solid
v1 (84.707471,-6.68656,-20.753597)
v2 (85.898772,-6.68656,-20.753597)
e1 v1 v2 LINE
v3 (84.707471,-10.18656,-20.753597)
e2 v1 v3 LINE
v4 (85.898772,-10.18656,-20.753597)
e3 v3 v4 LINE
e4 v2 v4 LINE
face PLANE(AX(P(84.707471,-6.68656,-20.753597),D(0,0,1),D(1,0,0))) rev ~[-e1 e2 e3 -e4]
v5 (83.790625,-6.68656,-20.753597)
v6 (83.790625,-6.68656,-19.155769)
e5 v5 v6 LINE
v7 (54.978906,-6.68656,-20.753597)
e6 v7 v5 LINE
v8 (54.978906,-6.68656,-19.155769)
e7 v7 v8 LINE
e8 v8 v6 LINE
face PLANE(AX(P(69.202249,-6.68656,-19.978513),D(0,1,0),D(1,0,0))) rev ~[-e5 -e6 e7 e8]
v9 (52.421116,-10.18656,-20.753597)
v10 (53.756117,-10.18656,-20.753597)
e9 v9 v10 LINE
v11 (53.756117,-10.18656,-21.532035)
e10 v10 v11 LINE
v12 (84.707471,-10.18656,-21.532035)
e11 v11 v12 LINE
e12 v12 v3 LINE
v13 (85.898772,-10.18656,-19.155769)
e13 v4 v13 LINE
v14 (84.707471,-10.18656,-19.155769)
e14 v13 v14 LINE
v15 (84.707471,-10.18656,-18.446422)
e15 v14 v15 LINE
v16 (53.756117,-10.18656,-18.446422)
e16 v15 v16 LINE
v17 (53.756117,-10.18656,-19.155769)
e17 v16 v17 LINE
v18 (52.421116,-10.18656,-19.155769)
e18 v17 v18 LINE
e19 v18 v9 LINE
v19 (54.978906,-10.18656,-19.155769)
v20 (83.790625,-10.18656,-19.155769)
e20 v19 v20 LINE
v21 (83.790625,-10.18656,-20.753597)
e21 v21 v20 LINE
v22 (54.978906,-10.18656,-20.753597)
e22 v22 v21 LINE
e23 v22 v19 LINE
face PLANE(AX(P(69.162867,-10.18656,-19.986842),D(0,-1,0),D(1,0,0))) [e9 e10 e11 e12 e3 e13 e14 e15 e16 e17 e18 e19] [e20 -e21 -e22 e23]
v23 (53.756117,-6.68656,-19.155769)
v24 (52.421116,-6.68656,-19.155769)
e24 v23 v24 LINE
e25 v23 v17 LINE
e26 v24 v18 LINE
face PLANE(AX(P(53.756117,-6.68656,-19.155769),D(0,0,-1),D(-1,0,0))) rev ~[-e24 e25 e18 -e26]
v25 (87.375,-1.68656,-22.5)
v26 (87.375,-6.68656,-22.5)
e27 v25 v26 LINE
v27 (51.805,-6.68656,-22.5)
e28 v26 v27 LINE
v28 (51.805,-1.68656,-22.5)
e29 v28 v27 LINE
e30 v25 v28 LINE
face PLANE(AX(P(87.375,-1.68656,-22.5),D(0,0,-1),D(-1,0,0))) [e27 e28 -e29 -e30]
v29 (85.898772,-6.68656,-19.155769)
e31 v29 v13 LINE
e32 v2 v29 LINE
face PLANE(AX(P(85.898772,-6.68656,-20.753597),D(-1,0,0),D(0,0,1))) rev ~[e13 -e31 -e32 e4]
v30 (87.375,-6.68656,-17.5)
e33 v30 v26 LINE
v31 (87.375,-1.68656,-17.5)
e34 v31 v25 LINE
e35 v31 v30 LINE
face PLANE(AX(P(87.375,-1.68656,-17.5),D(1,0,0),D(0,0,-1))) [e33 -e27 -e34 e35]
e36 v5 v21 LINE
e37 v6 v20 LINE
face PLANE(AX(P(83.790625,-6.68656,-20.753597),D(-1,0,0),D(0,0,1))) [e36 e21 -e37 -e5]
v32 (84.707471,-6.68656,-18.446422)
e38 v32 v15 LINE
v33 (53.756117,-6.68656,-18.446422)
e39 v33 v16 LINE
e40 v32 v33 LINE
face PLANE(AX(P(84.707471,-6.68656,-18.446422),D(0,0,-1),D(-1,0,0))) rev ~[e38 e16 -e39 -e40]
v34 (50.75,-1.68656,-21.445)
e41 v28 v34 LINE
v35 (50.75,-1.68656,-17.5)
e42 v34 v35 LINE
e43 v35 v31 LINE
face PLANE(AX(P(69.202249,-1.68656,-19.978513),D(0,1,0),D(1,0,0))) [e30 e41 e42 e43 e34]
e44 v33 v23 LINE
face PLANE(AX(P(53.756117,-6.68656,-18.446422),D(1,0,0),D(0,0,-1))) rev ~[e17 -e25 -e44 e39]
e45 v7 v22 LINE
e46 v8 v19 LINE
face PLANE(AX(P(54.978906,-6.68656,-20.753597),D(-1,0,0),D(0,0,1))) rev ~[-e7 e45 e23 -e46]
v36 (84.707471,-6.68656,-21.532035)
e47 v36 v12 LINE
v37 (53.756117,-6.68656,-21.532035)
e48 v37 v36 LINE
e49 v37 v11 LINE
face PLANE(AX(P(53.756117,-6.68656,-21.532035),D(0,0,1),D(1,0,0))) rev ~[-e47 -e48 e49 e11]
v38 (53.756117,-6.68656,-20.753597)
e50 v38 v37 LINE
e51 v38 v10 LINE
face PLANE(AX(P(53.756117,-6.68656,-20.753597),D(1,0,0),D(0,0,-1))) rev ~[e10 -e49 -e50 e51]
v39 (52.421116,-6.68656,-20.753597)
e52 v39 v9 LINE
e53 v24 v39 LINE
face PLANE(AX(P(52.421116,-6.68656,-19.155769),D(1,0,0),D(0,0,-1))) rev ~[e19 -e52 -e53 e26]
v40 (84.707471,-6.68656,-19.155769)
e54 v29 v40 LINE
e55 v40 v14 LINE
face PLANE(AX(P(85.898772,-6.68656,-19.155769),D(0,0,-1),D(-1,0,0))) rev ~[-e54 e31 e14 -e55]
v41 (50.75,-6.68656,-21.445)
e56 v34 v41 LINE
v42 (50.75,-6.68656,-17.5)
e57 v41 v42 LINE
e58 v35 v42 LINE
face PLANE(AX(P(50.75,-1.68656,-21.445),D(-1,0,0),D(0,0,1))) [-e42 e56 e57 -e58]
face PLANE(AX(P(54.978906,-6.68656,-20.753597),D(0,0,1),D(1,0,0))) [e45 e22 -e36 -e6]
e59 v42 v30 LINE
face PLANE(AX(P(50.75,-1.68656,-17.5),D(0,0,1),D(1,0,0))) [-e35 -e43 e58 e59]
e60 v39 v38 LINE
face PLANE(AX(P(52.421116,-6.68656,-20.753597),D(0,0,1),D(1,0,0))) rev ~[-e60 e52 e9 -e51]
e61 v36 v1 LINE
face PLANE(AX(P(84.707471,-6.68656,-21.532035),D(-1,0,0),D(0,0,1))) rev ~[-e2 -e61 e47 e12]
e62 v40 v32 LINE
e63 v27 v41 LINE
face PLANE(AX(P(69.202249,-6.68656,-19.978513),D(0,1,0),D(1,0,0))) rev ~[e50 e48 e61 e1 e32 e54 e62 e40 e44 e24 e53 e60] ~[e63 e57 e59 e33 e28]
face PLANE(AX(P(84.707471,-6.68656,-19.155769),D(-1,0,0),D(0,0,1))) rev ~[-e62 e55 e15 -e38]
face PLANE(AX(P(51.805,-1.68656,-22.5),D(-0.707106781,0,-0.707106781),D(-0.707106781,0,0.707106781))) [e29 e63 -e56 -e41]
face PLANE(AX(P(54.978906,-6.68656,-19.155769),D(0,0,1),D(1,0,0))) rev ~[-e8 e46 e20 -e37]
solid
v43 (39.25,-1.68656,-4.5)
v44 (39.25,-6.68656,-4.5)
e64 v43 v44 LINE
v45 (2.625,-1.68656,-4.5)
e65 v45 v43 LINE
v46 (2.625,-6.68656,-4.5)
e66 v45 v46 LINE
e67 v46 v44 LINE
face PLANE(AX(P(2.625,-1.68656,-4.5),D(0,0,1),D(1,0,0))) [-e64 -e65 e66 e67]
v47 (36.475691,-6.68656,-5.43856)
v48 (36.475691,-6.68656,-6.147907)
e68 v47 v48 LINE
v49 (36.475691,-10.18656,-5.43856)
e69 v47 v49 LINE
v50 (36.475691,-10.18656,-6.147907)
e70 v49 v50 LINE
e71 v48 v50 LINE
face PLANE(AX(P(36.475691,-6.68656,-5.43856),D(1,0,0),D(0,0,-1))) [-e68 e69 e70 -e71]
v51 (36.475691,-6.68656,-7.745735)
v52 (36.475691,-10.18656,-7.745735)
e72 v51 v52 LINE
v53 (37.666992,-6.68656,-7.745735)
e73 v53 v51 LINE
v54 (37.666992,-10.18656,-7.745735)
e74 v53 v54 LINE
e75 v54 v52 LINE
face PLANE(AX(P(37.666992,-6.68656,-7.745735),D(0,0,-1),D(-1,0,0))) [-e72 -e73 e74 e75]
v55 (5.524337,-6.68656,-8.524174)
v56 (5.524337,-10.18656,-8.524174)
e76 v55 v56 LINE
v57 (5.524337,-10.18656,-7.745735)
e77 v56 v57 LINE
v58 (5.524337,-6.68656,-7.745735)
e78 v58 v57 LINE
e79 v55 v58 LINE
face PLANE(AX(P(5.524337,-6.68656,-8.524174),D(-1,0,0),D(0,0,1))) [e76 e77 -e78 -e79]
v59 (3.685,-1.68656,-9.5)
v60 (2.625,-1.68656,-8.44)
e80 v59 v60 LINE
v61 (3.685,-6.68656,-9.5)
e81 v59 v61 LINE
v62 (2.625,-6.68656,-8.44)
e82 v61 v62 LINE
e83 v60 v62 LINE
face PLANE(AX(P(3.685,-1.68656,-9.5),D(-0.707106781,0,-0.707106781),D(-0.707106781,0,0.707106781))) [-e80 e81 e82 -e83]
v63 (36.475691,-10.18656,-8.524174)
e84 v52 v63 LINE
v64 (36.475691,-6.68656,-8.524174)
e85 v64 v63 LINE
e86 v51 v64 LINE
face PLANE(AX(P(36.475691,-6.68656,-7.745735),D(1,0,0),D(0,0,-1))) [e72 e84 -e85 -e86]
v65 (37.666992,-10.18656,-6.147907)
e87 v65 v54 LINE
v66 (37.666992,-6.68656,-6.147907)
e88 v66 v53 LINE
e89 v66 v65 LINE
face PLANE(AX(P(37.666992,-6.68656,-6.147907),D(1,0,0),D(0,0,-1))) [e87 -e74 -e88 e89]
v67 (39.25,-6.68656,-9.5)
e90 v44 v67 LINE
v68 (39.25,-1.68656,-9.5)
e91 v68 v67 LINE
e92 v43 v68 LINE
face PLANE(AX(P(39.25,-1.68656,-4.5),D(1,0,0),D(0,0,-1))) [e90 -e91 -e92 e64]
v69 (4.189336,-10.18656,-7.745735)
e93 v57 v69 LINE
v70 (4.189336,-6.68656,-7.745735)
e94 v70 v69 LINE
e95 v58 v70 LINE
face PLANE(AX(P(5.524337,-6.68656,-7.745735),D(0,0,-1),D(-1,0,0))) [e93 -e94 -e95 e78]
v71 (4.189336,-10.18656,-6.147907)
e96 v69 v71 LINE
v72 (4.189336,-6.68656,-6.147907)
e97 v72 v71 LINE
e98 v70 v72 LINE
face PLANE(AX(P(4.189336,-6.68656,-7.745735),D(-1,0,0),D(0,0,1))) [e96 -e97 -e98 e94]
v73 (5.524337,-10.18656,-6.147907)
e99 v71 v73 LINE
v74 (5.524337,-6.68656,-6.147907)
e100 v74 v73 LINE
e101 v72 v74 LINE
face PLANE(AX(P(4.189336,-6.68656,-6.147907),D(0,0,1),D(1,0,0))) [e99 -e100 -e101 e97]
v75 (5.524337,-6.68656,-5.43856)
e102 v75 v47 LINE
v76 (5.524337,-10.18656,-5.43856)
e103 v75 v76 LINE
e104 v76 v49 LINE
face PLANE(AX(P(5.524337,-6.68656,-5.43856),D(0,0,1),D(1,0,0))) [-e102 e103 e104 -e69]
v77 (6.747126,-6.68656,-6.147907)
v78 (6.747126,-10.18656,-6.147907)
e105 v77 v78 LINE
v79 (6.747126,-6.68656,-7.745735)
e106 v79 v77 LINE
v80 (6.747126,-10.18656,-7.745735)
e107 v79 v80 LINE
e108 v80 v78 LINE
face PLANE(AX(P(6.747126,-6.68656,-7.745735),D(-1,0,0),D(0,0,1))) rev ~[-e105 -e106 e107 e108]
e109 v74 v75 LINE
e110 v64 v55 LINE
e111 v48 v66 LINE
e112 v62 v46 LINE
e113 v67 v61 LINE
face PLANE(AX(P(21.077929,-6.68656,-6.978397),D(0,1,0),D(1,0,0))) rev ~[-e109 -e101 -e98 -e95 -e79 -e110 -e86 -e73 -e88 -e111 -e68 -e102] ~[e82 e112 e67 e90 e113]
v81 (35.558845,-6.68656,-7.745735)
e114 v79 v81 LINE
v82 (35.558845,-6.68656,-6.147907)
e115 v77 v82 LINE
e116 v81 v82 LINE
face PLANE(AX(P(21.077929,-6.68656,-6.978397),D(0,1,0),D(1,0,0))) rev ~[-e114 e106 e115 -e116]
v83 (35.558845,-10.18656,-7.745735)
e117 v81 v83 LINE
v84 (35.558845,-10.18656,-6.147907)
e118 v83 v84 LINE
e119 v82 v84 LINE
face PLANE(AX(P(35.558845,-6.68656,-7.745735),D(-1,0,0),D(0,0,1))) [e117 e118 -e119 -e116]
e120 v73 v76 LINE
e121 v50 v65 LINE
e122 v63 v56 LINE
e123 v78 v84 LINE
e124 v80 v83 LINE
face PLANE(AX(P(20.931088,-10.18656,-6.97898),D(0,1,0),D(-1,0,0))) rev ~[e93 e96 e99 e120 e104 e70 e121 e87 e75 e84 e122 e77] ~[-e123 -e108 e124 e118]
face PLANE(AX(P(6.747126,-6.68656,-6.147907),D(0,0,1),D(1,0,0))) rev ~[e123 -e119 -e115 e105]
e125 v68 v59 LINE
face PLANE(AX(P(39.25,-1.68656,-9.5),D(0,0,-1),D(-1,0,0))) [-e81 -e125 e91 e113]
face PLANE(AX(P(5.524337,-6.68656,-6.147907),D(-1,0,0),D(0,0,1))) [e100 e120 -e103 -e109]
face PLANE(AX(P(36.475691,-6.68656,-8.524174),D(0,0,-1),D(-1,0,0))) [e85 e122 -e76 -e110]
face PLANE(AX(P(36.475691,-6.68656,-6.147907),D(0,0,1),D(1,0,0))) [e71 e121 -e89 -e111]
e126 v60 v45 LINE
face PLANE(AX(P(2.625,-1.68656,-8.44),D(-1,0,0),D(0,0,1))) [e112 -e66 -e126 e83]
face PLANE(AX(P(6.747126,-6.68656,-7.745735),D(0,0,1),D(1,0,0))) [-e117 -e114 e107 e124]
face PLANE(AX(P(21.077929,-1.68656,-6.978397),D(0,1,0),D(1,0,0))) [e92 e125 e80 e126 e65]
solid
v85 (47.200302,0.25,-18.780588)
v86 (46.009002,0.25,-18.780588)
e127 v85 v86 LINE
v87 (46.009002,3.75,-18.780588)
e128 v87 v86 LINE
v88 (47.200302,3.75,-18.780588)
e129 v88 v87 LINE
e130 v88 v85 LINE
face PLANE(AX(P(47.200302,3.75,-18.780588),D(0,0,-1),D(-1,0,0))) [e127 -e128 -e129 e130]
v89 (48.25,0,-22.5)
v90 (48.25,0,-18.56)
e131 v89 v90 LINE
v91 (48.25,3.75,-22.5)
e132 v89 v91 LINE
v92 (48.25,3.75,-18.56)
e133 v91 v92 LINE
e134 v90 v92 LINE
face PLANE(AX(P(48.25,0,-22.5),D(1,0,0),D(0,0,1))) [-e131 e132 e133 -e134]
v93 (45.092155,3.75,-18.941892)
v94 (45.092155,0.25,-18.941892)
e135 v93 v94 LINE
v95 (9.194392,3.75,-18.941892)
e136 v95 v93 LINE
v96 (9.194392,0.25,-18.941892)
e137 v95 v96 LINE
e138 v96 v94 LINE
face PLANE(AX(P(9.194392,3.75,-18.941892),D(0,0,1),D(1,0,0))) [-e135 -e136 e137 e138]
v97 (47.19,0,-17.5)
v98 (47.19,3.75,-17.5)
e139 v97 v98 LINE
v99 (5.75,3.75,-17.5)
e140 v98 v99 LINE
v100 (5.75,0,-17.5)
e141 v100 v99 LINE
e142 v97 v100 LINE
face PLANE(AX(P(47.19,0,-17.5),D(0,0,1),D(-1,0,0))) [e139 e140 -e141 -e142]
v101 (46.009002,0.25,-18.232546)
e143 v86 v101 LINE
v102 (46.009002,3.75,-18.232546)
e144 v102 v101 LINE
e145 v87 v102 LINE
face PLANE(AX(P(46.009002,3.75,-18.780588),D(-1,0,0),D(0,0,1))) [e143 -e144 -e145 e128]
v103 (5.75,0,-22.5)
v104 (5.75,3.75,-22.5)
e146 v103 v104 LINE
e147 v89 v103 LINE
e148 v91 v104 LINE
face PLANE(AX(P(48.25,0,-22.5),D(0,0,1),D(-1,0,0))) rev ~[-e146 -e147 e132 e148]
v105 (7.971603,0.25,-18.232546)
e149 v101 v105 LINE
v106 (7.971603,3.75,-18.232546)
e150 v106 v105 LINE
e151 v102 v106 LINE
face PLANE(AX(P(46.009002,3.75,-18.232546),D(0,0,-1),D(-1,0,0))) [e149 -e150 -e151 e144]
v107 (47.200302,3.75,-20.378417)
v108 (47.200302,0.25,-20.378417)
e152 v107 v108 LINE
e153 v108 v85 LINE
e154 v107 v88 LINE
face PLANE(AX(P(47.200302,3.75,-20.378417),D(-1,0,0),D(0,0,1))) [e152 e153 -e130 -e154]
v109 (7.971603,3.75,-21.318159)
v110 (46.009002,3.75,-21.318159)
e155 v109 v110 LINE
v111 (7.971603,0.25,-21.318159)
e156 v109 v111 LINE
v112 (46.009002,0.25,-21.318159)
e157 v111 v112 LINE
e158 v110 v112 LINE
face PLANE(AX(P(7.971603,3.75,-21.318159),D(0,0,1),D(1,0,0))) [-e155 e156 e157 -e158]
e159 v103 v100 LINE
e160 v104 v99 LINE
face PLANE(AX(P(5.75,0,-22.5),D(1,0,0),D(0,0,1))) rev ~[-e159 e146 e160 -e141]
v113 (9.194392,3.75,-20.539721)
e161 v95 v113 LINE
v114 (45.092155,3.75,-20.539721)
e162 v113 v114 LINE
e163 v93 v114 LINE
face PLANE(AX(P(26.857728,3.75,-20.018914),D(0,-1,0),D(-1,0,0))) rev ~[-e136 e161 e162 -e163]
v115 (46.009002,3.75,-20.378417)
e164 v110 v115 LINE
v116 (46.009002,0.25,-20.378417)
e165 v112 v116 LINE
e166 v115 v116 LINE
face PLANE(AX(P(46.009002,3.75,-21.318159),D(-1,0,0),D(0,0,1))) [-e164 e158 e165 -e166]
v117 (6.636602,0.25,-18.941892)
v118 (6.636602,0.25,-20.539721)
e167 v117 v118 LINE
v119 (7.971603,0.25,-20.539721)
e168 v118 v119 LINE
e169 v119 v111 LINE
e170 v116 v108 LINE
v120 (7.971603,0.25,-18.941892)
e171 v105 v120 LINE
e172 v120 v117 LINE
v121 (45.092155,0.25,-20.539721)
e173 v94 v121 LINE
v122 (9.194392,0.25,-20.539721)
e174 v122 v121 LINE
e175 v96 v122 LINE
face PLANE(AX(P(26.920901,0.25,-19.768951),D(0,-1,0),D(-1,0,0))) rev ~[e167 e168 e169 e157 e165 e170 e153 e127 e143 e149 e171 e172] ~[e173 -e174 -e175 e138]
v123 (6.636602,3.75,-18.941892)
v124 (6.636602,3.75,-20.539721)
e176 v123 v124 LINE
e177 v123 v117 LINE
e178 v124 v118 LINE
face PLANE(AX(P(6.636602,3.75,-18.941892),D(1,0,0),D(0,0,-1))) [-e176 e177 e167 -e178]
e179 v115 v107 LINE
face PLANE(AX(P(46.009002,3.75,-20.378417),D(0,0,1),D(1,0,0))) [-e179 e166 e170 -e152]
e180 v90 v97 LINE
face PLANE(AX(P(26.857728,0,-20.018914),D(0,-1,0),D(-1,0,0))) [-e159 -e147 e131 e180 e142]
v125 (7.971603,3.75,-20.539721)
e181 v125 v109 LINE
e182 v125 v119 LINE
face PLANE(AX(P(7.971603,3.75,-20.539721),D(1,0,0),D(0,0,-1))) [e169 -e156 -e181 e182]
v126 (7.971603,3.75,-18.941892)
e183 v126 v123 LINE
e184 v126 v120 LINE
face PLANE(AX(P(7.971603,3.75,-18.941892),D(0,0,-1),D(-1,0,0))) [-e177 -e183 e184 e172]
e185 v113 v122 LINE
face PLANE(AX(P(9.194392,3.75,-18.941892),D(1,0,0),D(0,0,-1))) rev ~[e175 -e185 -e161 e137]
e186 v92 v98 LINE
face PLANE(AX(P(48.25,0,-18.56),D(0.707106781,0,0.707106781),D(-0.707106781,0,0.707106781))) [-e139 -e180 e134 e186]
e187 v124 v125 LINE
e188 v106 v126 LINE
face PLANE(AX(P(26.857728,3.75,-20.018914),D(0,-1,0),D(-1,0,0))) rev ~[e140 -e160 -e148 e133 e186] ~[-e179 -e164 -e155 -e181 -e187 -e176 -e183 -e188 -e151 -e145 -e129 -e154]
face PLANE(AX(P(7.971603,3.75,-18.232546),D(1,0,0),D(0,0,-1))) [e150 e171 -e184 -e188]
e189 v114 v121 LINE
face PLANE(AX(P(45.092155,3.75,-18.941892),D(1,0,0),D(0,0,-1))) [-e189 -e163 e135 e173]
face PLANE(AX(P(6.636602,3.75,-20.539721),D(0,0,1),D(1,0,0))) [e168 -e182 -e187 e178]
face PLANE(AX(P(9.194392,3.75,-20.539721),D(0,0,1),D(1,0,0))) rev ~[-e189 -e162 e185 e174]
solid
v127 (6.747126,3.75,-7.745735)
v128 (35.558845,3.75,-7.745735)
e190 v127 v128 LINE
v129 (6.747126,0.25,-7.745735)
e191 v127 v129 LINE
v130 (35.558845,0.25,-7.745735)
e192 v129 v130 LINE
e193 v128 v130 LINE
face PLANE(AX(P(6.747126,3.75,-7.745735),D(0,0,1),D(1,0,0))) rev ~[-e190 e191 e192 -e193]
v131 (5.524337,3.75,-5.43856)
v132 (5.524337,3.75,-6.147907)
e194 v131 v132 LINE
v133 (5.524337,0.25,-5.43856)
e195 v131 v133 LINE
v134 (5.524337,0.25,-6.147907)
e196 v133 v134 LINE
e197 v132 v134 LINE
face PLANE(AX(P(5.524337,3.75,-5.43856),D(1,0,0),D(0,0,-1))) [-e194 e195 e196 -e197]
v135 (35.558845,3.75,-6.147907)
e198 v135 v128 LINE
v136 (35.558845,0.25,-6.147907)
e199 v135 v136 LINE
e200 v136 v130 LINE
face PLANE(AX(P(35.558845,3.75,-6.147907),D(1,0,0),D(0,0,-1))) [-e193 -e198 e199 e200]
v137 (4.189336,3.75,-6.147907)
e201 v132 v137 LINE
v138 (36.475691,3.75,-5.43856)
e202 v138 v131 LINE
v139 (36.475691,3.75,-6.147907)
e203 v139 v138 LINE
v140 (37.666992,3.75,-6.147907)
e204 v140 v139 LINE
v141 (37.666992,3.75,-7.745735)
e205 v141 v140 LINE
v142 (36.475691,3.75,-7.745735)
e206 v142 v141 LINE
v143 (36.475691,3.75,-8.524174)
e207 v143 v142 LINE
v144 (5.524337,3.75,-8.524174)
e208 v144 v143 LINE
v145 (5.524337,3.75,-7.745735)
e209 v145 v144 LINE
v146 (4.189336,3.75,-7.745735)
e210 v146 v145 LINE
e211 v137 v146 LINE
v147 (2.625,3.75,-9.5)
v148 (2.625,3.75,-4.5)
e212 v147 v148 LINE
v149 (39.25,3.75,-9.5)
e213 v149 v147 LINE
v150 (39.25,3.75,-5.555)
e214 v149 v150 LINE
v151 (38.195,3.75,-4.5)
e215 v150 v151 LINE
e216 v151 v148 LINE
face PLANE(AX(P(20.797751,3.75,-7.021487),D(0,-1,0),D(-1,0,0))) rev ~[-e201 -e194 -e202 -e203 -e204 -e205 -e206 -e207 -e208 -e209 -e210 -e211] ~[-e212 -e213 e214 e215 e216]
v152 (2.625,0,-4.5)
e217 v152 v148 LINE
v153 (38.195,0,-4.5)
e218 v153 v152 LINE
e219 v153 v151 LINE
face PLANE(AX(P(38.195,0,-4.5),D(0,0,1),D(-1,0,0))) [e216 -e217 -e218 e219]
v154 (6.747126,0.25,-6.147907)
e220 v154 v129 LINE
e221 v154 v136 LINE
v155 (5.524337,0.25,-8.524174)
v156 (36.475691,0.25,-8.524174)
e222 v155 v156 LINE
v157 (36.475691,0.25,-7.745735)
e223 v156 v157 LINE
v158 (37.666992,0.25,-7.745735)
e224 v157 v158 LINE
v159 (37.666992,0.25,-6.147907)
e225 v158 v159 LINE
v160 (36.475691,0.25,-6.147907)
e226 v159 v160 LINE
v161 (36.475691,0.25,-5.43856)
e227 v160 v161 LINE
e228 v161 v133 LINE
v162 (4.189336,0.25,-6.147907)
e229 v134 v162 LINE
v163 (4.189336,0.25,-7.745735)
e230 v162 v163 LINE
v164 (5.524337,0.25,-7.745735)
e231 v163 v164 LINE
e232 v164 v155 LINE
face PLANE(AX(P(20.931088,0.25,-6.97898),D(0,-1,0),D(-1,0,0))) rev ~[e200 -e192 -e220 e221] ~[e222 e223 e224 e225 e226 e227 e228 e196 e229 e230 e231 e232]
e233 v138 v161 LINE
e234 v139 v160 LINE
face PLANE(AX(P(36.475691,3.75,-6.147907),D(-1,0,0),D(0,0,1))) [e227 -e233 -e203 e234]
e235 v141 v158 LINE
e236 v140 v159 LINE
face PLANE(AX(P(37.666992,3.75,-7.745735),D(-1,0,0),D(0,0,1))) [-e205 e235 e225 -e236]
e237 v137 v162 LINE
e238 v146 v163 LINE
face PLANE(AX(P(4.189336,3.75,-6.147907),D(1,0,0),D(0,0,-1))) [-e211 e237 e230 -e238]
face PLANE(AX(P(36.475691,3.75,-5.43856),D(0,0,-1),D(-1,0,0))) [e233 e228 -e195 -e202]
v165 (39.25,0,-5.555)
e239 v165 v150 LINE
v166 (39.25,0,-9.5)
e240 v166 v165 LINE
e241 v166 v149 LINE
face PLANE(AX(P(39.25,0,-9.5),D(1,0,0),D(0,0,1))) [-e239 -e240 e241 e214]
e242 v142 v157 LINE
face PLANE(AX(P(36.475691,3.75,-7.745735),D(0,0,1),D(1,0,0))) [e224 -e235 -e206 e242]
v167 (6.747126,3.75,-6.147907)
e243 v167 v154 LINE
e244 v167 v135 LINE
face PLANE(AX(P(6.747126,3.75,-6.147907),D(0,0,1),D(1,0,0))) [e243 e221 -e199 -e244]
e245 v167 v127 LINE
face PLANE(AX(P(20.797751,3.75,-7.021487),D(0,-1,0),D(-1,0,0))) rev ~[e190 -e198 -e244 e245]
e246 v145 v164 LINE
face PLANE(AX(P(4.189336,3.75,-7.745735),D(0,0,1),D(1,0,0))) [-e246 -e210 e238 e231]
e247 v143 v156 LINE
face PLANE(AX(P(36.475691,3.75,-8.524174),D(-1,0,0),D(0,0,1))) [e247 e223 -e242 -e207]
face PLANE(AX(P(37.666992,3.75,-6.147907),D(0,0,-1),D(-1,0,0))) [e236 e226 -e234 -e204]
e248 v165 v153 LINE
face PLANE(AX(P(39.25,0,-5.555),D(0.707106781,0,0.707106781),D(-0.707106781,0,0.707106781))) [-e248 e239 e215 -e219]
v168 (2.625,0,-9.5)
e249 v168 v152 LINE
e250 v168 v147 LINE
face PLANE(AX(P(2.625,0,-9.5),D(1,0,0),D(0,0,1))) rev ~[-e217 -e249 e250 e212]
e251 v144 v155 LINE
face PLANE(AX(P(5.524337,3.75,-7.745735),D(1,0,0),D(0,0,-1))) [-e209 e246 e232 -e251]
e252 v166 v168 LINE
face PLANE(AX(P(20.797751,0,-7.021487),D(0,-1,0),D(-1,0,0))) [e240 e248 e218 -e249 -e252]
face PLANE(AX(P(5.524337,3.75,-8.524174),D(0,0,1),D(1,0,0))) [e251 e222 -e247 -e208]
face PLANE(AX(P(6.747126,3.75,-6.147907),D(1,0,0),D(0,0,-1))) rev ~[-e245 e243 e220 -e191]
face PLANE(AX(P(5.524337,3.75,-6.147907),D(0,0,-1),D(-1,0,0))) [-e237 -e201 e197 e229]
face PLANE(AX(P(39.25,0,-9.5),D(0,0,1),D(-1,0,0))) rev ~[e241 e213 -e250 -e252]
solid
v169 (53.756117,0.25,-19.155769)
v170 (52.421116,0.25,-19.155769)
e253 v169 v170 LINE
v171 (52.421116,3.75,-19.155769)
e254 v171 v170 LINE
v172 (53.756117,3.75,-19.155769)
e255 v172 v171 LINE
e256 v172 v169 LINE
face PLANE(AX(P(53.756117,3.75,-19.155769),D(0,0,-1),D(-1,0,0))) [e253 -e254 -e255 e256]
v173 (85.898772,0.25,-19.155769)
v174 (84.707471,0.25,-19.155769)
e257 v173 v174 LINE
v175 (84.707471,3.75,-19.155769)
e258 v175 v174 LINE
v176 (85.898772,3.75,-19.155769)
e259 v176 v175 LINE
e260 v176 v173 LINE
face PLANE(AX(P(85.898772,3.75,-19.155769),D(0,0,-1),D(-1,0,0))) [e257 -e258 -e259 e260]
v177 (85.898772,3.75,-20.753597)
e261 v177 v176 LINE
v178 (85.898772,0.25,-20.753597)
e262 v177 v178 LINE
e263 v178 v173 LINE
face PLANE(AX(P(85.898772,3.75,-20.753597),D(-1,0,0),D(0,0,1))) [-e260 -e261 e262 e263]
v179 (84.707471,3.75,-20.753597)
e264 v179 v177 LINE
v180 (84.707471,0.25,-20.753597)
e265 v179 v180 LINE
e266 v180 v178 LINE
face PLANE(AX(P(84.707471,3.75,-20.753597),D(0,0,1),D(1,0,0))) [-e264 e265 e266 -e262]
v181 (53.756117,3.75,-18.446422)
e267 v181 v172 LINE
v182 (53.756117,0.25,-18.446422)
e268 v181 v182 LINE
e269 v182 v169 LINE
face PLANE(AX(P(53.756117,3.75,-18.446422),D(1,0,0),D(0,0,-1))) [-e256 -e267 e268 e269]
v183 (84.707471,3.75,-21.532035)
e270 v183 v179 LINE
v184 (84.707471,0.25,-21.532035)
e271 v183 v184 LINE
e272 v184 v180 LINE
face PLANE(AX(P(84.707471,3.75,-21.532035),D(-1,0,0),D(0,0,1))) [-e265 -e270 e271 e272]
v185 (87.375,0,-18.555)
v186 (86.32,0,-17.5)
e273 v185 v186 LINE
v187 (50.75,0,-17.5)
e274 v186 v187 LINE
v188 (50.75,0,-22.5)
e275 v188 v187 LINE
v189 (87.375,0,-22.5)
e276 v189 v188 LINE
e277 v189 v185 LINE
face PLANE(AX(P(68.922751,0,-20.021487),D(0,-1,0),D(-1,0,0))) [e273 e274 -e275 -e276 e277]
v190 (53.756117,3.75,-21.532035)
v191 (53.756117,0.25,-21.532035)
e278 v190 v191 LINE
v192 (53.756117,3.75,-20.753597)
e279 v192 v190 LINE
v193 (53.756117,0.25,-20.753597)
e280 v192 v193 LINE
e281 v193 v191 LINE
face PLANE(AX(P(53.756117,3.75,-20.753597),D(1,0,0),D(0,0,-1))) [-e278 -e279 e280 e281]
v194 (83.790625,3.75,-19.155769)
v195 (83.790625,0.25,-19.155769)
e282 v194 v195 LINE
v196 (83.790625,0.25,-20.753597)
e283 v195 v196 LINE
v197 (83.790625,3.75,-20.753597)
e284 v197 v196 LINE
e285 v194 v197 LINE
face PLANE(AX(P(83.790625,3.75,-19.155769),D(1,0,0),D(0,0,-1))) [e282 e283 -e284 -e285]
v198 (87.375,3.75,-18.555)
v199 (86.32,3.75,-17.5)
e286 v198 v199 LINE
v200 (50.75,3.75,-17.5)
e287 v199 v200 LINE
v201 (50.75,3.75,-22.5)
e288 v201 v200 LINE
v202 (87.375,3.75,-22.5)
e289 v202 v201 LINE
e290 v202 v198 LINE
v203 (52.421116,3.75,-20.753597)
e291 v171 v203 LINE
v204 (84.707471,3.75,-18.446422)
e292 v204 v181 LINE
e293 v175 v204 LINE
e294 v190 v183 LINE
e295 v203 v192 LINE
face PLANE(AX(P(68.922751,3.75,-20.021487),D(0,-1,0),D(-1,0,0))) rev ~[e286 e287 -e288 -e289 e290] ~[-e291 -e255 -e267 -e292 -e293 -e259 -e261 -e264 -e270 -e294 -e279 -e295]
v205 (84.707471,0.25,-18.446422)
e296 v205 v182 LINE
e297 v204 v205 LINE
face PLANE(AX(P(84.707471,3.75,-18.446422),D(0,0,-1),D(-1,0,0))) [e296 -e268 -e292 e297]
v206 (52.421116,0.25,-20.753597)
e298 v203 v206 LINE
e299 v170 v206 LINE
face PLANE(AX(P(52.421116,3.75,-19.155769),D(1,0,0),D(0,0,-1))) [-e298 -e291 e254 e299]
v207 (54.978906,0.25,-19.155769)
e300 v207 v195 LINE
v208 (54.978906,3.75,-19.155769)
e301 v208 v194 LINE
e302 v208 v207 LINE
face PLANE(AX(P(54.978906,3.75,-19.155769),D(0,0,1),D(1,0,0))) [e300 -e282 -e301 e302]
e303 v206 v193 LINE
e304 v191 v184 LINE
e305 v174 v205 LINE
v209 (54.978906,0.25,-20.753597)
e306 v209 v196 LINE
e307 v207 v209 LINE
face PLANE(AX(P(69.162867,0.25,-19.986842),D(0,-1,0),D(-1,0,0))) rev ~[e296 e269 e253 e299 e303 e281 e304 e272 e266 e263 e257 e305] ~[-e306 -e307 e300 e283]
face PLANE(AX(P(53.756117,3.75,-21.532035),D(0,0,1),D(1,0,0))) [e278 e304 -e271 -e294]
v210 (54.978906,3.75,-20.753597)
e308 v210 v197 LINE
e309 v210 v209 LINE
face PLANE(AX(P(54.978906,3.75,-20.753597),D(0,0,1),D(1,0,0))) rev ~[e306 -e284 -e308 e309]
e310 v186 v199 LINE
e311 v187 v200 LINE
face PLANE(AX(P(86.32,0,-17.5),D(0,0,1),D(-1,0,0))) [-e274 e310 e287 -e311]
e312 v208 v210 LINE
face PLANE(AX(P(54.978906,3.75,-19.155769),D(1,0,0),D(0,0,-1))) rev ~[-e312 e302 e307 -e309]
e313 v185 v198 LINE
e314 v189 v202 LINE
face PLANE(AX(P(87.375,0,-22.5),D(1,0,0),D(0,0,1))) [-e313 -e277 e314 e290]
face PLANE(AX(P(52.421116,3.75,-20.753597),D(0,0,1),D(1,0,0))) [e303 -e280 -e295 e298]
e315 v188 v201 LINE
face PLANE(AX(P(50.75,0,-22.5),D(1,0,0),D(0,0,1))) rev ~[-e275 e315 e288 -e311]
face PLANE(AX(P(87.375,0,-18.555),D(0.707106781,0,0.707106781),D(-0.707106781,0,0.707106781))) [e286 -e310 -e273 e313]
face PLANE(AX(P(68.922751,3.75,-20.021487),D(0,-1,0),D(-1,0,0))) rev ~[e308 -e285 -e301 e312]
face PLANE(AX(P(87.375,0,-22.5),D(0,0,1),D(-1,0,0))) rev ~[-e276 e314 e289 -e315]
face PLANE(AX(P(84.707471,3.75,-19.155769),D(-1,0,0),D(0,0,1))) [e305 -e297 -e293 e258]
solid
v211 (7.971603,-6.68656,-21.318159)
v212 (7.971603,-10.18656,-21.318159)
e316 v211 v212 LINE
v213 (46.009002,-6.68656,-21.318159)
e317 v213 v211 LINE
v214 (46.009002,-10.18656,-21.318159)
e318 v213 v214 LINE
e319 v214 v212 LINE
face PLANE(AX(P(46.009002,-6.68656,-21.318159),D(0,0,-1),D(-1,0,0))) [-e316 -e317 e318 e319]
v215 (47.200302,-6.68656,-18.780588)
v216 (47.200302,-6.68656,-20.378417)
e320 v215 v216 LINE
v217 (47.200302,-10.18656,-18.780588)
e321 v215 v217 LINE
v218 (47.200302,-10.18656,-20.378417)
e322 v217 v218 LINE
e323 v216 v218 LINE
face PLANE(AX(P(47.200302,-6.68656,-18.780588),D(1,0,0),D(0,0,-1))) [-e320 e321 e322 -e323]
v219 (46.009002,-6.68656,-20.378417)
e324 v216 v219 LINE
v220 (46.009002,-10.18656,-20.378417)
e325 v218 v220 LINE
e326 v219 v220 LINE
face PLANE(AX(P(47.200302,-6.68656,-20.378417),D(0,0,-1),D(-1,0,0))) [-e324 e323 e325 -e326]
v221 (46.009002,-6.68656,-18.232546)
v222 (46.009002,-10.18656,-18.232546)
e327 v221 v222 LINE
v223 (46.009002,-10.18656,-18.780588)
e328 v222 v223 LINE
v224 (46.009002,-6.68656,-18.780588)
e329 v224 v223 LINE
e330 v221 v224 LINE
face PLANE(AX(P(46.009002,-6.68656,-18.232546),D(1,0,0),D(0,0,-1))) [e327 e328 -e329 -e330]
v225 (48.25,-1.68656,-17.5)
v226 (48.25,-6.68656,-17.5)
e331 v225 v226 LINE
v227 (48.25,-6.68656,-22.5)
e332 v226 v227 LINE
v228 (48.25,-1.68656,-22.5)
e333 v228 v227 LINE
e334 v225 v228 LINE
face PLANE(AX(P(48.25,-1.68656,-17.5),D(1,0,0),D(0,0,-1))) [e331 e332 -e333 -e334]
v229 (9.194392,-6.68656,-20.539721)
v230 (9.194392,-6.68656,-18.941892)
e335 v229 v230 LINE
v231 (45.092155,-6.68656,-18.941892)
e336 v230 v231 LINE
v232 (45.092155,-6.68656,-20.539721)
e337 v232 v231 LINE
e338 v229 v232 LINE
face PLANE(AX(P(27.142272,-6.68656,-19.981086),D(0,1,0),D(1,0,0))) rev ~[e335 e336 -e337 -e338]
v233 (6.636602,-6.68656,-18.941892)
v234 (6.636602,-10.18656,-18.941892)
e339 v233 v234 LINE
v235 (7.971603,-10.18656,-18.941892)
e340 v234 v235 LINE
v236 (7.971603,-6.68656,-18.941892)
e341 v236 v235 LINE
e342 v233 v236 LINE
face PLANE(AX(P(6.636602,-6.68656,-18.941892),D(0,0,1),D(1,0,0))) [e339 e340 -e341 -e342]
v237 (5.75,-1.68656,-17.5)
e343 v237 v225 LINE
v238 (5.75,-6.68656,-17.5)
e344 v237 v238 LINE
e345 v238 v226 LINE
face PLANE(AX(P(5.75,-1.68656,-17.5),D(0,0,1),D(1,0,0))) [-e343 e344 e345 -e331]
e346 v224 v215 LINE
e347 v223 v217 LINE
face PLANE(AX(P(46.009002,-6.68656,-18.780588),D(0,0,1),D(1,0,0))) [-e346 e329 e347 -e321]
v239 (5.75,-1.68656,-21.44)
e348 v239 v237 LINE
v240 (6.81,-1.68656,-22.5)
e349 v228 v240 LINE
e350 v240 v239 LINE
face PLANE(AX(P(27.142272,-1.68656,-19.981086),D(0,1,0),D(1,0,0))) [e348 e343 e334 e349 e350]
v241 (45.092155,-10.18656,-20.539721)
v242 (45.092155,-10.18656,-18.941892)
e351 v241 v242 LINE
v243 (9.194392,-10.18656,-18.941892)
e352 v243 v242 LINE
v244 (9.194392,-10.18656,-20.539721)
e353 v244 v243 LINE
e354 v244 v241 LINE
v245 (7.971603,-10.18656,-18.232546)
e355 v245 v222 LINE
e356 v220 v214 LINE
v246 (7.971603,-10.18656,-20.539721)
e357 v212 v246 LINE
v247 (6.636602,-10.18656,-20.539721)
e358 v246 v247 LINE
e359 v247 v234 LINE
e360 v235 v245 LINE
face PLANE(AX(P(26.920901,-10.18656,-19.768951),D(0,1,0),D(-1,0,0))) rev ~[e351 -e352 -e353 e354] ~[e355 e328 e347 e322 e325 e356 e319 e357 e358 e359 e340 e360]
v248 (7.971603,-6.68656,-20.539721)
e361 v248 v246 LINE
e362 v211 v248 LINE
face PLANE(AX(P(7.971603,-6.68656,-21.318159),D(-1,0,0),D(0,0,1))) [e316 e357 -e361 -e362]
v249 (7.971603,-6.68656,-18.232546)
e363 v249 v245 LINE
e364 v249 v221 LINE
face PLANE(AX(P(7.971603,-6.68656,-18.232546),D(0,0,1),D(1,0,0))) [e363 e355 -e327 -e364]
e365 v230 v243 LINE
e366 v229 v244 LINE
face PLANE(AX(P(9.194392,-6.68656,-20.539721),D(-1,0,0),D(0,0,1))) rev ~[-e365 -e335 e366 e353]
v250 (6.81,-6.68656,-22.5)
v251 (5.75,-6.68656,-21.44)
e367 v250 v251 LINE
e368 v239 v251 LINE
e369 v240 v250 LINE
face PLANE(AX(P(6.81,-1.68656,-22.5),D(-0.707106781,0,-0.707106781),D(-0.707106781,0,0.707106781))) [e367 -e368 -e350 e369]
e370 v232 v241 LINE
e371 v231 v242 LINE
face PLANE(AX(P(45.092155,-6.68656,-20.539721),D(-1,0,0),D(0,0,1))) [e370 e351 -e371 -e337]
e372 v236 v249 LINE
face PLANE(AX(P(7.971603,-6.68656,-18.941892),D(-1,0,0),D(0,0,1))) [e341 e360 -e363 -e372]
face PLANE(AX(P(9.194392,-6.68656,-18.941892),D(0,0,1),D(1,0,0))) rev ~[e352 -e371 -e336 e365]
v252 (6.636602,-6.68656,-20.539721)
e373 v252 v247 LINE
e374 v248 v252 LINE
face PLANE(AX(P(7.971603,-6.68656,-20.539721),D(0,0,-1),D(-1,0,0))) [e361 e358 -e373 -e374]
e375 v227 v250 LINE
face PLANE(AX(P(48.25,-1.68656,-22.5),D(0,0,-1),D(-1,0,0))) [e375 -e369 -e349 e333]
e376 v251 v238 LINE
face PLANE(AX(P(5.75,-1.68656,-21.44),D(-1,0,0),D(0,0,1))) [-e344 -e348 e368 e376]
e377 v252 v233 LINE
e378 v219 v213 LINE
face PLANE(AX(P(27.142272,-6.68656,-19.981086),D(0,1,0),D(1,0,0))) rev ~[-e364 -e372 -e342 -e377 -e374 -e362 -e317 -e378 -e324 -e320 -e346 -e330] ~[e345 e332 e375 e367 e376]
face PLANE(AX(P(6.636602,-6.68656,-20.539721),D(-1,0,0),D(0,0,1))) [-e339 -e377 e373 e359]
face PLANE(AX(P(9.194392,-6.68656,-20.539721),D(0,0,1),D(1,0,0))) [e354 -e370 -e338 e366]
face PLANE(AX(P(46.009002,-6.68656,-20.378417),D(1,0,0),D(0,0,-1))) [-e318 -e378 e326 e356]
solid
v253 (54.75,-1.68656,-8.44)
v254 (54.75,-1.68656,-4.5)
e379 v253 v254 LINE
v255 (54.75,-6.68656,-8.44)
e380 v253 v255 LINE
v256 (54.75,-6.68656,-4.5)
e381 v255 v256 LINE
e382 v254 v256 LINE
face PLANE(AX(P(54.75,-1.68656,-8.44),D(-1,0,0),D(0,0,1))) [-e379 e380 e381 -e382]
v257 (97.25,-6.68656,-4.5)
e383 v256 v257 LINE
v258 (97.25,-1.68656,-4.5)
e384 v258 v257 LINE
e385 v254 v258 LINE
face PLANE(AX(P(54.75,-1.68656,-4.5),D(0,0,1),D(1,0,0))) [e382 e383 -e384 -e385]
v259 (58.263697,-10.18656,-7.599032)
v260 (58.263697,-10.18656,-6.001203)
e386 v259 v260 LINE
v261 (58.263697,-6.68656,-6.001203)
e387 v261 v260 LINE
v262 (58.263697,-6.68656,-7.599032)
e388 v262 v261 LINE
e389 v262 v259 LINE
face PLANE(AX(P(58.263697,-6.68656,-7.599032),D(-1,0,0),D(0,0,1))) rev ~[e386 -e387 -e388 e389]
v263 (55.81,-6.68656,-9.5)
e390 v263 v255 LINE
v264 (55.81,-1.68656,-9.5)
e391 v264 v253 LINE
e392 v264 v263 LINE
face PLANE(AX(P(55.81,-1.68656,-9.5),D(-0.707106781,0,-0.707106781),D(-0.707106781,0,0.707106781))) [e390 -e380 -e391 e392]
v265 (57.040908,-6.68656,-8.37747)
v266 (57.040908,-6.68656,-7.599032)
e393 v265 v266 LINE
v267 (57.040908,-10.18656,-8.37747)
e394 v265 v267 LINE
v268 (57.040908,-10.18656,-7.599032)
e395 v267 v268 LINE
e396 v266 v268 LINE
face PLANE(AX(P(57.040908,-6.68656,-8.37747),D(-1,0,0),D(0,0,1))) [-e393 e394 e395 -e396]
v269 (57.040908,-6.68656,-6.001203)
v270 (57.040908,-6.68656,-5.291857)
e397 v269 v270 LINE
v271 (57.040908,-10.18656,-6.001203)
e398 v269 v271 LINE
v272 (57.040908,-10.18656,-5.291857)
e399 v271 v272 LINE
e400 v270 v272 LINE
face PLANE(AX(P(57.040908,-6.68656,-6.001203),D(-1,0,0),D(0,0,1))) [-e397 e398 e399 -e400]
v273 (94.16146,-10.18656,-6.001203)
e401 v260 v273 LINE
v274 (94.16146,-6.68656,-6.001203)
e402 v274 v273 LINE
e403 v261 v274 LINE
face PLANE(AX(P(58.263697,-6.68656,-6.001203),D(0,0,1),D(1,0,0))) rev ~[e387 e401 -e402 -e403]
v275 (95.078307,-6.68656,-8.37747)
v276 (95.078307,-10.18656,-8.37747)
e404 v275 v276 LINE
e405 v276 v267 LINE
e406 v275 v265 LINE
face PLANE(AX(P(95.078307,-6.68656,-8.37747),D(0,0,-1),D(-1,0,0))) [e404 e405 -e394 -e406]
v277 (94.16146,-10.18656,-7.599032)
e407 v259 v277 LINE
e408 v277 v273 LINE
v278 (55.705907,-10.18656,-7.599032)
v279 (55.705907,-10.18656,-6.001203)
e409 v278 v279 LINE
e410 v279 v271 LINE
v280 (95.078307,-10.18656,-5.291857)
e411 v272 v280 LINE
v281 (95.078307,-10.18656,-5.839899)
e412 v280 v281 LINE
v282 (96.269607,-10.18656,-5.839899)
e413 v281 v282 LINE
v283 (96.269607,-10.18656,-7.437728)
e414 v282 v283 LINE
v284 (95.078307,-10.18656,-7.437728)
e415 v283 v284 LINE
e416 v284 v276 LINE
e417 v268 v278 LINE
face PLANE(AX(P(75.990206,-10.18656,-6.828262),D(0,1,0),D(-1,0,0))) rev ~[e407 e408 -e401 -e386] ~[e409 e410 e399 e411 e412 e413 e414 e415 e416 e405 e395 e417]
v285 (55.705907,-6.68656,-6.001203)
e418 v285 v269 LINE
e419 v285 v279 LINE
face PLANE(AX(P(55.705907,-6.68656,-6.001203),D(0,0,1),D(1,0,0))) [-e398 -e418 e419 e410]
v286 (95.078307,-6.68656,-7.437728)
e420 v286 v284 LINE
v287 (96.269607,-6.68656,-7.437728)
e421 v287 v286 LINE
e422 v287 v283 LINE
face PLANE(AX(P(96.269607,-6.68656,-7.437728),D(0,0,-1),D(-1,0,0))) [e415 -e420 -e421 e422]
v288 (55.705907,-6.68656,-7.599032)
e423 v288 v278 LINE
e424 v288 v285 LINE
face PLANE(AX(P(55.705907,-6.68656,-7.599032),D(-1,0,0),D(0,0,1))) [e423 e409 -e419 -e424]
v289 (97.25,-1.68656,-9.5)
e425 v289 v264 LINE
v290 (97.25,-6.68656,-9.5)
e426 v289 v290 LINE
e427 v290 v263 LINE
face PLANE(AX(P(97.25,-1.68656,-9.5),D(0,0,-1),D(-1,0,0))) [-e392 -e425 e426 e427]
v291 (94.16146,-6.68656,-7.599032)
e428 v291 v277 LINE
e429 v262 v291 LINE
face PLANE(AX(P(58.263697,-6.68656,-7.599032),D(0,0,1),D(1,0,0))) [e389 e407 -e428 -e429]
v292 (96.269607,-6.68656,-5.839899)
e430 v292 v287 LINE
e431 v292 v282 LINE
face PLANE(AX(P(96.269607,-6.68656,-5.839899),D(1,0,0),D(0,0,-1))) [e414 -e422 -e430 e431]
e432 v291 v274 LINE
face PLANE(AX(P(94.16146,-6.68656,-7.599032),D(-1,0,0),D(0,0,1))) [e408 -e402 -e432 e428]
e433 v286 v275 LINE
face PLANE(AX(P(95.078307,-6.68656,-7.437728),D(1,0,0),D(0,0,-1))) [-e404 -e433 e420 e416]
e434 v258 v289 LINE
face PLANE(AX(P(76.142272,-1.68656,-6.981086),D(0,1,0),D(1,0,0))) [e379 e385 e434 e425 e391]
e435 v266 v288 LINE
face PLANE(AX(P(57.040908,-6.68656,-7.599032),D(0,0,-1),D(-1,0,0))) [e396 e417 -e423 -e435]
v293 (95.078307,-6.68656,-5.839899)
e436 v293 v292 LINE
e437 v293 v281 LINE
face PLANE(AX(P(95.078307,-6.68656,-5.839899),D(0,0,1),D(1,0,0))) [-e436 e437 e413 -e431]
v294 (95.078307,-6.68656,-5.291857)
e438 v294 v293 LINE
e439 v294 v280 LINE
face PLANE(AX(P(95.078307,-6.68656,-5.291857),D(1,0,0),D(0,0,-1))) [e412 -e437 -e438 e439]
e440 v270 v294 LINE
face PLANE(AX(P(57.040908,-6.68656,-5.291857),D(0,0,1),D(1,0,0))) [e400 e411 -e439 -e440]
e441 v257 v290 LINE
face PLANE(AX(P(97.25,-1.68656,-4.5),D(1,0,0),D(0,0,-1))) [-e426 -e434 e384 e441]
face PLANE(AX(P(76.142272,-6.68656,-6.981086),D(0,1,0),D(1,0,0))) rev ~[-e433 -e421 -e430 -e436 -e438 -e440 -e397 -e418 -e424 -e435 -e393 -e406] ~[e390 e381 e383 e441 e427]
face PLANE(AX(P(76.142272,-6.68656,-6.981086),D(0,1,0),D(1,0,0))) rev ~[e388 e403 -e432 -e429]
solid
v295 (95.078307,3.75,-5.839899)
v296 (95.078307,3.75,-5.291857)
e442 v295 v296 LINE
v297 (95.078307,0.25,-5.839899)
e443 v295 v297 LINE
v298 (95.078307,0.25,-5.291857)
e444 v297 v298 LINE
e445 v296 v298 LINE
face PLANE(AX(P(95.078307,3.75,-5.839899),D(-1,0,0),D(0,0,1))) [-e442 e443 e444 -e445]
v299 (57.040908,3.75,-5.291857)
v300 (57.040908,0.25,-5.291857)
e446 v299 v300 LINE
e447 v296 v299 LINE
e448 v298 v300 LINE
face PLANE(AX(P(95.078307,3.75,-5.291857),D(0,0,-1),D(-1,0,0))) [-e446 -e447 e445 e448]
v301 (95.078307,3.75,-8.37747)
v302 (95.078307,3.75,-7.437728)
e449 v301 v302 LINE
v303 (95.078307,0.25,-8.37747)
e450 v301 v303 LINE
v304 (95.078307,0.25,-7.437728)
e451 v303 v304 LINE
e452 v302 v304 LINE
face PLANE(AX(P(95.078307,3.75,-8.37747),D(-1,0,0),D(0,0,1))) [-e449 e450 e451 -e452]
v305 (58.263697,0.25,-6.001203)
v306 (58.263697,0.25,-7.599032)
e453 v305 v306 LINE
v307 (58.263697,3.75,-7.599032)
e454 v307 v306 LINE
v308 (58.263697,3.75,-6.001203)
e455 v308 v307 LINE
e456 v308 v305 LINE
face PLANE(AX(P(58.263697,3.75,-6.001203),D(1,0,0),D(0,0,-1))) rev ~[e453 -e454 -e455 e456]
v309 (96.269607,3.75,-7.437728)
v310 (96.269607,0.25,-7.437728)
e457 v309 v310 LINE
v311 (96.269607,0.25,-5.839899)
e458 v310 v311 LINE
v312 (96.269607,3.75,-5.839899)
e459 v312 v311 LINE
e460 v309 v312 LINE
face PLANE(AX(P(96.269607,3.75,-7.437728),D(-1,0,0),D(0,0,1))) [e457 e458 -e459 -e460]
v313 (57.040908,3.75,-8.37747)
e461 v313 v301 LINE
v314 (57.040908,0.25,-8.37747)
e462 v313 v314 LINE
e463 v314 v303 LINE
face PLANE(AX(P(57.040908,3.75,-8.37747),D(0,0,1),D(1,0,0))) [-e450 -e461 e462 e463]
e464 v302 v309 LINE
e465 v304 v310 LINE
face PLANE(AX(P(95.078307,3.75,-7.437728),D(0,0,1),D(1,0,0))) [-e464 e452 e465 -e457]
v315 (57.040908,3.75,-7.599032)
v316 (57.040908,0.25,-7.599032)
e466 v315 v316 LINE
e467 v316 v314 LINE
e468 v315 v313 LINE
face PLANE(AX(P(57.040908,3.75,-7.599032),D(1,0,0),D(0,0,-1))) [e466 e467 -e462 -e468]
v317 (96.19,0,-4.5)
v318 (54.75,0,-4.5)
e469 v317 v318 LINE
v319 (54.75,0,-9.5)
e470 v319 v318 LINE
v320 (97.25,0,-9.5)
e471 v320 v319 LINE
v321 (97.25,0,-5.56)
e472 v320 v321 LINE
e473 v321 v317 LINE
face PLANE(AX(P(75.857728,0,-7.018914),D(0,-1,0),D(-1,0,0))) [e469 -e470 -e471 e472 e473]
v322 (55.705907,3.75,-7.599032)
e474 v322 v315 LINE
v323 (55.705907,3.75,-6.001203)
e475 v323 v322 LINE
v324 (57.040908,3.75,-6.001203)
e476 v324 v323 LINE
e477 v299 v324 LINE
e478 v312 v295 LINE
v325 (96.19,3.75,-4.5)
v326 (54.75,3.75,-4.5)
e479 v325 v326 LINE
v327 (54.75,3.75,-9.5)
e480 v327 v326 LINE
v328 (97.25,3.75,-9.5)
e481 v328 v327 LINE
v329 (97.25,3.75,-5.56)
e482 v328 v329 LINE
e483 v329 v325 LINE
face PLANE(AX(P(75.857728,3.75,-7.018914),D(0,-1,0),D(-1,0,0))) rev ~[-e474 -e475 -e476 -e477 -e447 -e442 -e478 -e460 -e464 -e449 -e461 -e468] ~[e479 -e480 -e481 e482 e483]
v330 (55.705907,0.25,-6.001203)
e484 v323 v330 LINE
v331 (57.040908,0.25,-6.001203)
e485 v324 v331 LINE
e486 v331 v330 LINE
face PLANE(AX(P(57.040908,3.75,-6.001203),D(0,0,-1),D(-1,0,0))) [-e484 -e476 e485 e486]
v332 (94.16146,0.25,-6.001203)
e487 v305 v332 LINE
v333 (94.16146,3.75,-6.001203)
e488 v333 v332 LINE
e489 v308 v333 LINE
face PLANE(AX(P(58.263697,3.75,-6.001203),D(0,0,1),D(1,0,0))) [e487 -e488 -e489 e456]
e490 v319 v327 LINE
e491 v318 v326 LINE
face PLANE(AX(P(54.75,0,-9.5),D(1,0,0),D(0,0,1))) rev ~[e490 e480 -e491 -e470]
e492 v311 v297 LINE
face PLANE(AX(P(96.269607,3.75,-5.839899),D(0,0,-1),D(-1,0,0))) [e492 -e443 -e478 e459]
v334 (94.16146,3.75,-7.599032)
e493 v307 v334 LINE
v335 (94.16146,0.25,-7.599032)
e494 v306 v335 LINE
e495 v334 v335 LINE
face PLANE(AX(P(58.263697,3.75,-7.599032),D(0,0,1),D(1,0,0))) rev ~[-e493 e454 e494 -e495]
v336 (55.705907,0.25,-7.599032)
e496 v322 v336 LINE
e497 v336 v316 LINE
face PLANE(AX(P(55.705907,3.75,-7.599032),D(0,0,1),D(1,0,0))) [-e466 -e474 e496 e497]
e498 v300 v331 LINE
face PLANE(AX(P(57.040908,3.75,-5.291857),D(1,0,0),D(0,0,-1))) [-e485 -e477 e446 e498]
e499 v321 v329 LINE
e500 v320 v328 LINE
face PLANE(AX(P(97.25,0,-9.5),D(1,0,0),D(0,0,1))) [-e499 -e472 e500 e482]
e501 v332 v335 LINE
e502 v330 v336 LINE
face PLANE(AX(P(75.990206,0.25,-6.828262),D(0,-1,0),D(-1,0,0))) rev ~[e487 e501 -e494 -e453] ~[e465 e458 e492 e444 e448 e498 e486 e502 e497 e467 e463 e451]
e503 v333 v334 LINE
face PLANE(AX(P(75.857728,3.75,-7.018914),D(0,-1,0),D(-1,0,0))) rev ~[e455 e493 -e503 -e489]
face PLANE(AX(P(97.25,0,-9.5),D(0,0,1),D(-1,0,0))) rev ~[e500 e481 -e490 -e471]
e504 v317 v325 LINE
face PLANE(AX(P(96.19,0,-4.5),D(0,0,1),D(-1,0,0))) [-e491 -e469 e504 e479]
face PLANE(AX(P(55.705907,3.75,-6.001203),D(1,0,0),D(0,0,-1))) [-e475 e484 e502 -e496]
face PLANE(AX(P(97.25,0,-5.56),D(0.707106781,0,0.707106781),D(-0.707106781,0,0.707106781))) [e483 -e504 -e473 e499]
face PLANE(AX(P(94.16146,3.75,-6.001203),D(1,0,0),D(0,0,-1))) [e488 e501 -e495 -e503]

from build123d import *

# Parameters (mm, degrees)
SV_DEPTH           = 3.75
SV_2_DEPTH         = 3.75
SV_3_DEPTH         = 3.75
SV_4_DEPTH         = 3.75
SKETCH3_W          = 28.811718275
SKETCH3_H          = 1.597828601
SKETCH3_W_2        = 35.897762959
SKETCH3_W_3        = 35.897762958
CUT_EXTRUDE1_DEPTH = 3.5
SV4_A_DEPTH        = 5
SV4_A_2_DEPTH      = 5
SV4_A_3_DEPTH      = 5
SV4_A_4_DEPTH      = 5
SKETCH7_W          = 35.897762958
SKETCH7_H          = 1.597828601
SKETCH7_W_2        = 28.811718275
SKETCH7_W_3        = 35.897762959
SV4_B_DEPTH        = 3.5


with BuildPart() as part:
    # Sketch1 → SV (new body)
    with BuildSketch(Plane(origin=(0, 0, 0), x_dir=(1, 0, 0), z_dir=(0, 1, 0))):
        Polygon((55.811, 9.5), (97.25, 9.5), (97.25, 5.56), (96.19, 4.5), (54.75, 4.5), (54.75, 8.439), (54.75, 9.5), align=None)
    extrude(amount=SV_DEPTH)


with BuildPart() as body_2:
    # Sketch1 → SV 2 (new body)
    with BuildSketch(Plane(origin=(0, 0, 0), x_dir=(1, 0, 0), z_dir=(0, 1, 0))):
        Polygon((3.686, 9.5), (39.25, 9.5), (39.25, 5.555), (38.195, 4.5), (2.625, 4.5), (2.625, 8.439), (2.625, 9.5), align=None)
    extrude(amount=SV_2_DEPTH)


with BuildPart() as body_3:
    # Sketch1 → SV 3 (new body)
    with BuildSketch(Plane(origin=(0, 0, 0), x_dir=(1, 0, 0), z_dir=(0, 1, 0))):
        Polygon((51.811, 22.5), (87.375, 22.5), (87.375, 18.555), (86.32, 17.5), (50.75, 17.5), (50.75, 21.439), (50.75, 22.5), align=None)
    extrude(amount=SV_3_DEPTH)


with BuildPart() as body_4:
    # Sketch1 → SV 4 (new body)
    with BuildSketch(Plane(origin=(0, 0, 0), x_dir=(1, 0, 0), z_dir=(0, 1, 0))):
        Polygon((6.811, 22.5), (48.25, 22.5), (48.25, 18.56), (47.19, 17.5), (5.75, 17.5), (5.75, 21.439), (5.75, 22.5), align=None)
    extrude(amount=SV_4_DEPTH)


with BuildPart() as cut_extrude1_tool:
    # Sketch3 → Cut-Extrude1 (new body)
    with BuildSketch(Plane(origin=(0, 3.75, 0), x_dir=(1, 0, 0), z_dir=(0, 1, 0))):
        Polygon((4.189336253, 7.745735487), (5.524337048, 7.745735487), (5.524337048, 8.524173538), (36.475691419, 8.524173538), (36.475691419, 7.745735487), (37.666991912, 7.745735487), (37.666991912, 6.147906886), (36.475691419, 6.147906886), (36.475691419, 5.438560322), (5.524337048, 5.438560322), (5.524337048, 6.147906886), (4.189336253, 6.147906886), align=None)
        with Locations((21.152985591, 6.946821187)):
            Rectangle(SKETCH3_W, SKETCH3_H, mode=Mode.SUBTRACT)
        Polygon((52.421116037, 20.753597434), (53.756116831, 20.753597434), (53.756116831, 21.532035485), (84.707471203, 21.532035485), (84.707471203, 20.753597434), (85.898771695, 20.753597434), (85.898771695, 19.155768833), (84.707471203, 19.155768833), (84.707471203, 18.446422269), (53.756116831, 18.446422269), (53.756116831, 19.155768833), (52.421116037, 19.155768833), align=None)
        with Locations((69.384765375, 19.954683133)):
            Rectangle(SKETCH3_W, SKETCH3_H, mode=Mode.SUBTRACT)
        Polygon((55.705906871, 7.599031898), (57.040907666, 7.599031898), (57.040907666, 8.377469948), (95.07830672, 8.377469948), (95.07830672, 7.437727621), (96.269607213, 7.437727621), (96.269607213, 5.83989902), (95.07830672, 5.83989902), (95.07830672, 5.291856733), (57.040907666, 5.291856733), (57.040907666, 6.001203297), (55.705906871, 6.001203297), align=None)
        with Locations((76.21257855, 6.800117597)):
            Rectangle(SKETCH3_W_2, SKETCH3_H, mode=Mode.SUBTRACT)
        Polygon((6.636601859, 20.53972103), (7.971602653, 20.53972103), (7.971602653, 21.318159081), (46.009001708, 21.318159081), (46.009001708, 20.378416754), (47.2003022, 20.378416754), (47.2003022, 18.780588153), (46.009001708, 18.780588153), (46.009001708, 18.232545866), (7.971602653, 18.232545866), (7.971602653, 18.941892429), (6.636601859, 18.941892429), align=None)
        with Locations((27.143273538, 19.74080673)):
            Rectangle(SKETCH3_W_3, SKETCH3_H, mode=Mode.SUBTRACT)
    extrude(amount=-CUT_EXTRUDE1_DEPTH)


with BuildPart() as part_1:
    add(part.part)

    # Cut-Extrude1: cut by cut_extrude1_tool
    add(cut_extrude1_tool.part, mode=Mode.SUBTRACT)


with BuildPart() as body_2_1:
    add(body_2.part)

    # Cut-Extrude1: cut by cut_extrude1_tool
    add(cut_extrude1_tool.part, mode=Mode.SUBTRACT)


with BuildPart() as body_3_1:
    add(body_3.part)

    # Cut-Extrude1: cut by cut_extrude1_tool
    add(cut_extrude1_tool.part, mode=Mode.SUBTRACT)


with BuildPart() as body_4_1:
    add(body_4.part)

    # Cut-Extrude1: cut by cut_extrude1_tool
    add(cut_extrude1_tool.part, mode=Mode.SUBTRACT)


with BuildPart() as body_5:
    # Sketch6 → SV4(a) (new body)
    with BuildSketch(Plane(origin=(0, -1.68656, 0), x_dir=(1, 0, 0), z_dir=(0, 1, 0))):
        Polygon((2.625, 4.5), (38.195, 4.5), (39.25, 4.5), (39.25, 5.555), (39.25, 9.5), (3.685, 9.5), (2.625, 8.44), align=None)
    extrude(amount=-SV4_A_DEPTH)



with BuildPart() as body_6:
    # Sketch6 → SV4_a 2 (new body)
    with BuildSketch(Plane(origin=(0, -1.68656, 0), x_dir=(1, 0, 0), z_dir=(0, 1, 0))):
        Polygon((48.25, 18.56191605), (48.25, 22.5), (6.81, 22.5), (5.75, 21.44), (5.75, 17.5), (47.18808395, 17.5), (48.25, 17.5), align=None)
    extrude(amount=-SV4_A_2_DEPTH)


with BuildPart() as body_7:
    # Sketch6 → SV4_a 3 (new body)
    with BuildSketch(Plane(origin=(0, -1.68656, 0), x_dir=(1, 0, 0), z_dir=(0, 1, 0))):
        Polygon((54.75, 4.5), (96.19, 4.5), (97.25, 4.5), (97.25, 5.56), (97.25, 9.5), (55.81, 9.5), (54.75, 8.44), align=None)
    extrude(amount=-SV4_A_3_DEPTH)


with BuildPart() as body_8:
    # Sketch6 → SV4_a 4 (new body)
    with BuildSketch(Plane(origin=(0, -1.68656, 0), x_dir=(1, 0, 0), z_dir=(0, 1, 0))):
        Polygon((50.75, 17.5), (86.32, 17.5), (87.375, 17.5), (87.375, 18.555), (87.375, 22.5), (51.805, 22.5), (50.75, 21.445), align=None)
    extrude(amount=-SV4_A_4_DEPTH)


with BuildPart() as body_5_1:
    add(body_5.part)

    add(body_6.part)  # SV4(b) merges body 6

    add(body_7.part)  # SV4(b) merges body 7

    add(body_8.part)  # SV4(b) merges body 8
    # Sketch7 → SV4(b) (add)
    with BuildSketch(Plane.XZ.offset(6.68656)):
        Polygon((7.971602653, -21.318159081), (7.971602653, -20.53972103), (6.636601859, -20.53972103), (6.636601859, -18.941892429), (7.971602653, -18.941892429), (7.971602653, -18.232545866), (46.009001708, -18.232545866), (46.009001708, -18.780588153), (47.2003022, -18.780588153), (47.2003022, -20.378416754), (46.009001708, -20.378416754), (46.009001708, -21.318159081), align=None)
        with Locations((27.143273538, -19.74080673)):
            Rectangle(SKETCH7_W, SKETCH7_H, mode=Mode.SUBTRACT)
        Polygon((53.756116831, -21.532035485), (84.707471203, -21.532035485), (84.707471203, -20.753597434), (85.898771695, -20.753597434), (85.898771695, -19.155768833), (84.707471203, -19.155768833), (84.707471203, -18.446422269), (53.756116831, -18.446422269), (53.756116831, -19.155768833), (52.421116037, -19.155768833), (52.421116037, -20.753597434), (53.756116831, -20.753597434), align=None)
        with Locations((69.384765375, -19.954683133)):
            Rectangle(SKETCH7_W_2, SKETCH7_H, mode=Mode.SUBTRACT)
        Polygon((57.040907666, -8.377469948), (57.040907666, -7.599031898), (55.705906871, -7.599031898), (55.705906871, -6.001203297), (57.040907666, -6.001203297), (57.040907666, -5.291856733), (95.07830672, -5.291856733), (95.07830672, -5.83989902), (96.269607213, -5.83989902), (96.269607213, -7.437727621), (95.07830672, -7.437727621), (95.07830672, -8.377469948), align=None)
        with Locations((76.21257855, -6.800117597)):
            Rectangle(SKETCH7_W_3, SKETCH7_H, mode=Mode.SUBTRACT)
        Polygon((4.189336253, -6.147906886), (5.524337048, -6.147906886), (5.524337048, -5.438560322), (36.475691419, -5.438560322), (36.475691419, -6.147906886), (37.666991912, -6.147906886), (37.666991912, -7.745735487), (36.475691419, -7.745735487), (36.475691419, -8.524173538), (5.524337048, -8.524173538), (5.524337048, -7.745735487), (4.189336253, -7.745735487), align=None)
        with Locations((21.152985591, -6.946821187)):
            Rectangle(SKETCH7_W_2, SKETCH7_H, mode=Mode.SUBTRACT)
    extrude(amount=SV4_B_DEPTH)


solid = Compound([part_1.part, body_2_1.part, body_3_1.part, body_4_1.part, body_5_1.part])
